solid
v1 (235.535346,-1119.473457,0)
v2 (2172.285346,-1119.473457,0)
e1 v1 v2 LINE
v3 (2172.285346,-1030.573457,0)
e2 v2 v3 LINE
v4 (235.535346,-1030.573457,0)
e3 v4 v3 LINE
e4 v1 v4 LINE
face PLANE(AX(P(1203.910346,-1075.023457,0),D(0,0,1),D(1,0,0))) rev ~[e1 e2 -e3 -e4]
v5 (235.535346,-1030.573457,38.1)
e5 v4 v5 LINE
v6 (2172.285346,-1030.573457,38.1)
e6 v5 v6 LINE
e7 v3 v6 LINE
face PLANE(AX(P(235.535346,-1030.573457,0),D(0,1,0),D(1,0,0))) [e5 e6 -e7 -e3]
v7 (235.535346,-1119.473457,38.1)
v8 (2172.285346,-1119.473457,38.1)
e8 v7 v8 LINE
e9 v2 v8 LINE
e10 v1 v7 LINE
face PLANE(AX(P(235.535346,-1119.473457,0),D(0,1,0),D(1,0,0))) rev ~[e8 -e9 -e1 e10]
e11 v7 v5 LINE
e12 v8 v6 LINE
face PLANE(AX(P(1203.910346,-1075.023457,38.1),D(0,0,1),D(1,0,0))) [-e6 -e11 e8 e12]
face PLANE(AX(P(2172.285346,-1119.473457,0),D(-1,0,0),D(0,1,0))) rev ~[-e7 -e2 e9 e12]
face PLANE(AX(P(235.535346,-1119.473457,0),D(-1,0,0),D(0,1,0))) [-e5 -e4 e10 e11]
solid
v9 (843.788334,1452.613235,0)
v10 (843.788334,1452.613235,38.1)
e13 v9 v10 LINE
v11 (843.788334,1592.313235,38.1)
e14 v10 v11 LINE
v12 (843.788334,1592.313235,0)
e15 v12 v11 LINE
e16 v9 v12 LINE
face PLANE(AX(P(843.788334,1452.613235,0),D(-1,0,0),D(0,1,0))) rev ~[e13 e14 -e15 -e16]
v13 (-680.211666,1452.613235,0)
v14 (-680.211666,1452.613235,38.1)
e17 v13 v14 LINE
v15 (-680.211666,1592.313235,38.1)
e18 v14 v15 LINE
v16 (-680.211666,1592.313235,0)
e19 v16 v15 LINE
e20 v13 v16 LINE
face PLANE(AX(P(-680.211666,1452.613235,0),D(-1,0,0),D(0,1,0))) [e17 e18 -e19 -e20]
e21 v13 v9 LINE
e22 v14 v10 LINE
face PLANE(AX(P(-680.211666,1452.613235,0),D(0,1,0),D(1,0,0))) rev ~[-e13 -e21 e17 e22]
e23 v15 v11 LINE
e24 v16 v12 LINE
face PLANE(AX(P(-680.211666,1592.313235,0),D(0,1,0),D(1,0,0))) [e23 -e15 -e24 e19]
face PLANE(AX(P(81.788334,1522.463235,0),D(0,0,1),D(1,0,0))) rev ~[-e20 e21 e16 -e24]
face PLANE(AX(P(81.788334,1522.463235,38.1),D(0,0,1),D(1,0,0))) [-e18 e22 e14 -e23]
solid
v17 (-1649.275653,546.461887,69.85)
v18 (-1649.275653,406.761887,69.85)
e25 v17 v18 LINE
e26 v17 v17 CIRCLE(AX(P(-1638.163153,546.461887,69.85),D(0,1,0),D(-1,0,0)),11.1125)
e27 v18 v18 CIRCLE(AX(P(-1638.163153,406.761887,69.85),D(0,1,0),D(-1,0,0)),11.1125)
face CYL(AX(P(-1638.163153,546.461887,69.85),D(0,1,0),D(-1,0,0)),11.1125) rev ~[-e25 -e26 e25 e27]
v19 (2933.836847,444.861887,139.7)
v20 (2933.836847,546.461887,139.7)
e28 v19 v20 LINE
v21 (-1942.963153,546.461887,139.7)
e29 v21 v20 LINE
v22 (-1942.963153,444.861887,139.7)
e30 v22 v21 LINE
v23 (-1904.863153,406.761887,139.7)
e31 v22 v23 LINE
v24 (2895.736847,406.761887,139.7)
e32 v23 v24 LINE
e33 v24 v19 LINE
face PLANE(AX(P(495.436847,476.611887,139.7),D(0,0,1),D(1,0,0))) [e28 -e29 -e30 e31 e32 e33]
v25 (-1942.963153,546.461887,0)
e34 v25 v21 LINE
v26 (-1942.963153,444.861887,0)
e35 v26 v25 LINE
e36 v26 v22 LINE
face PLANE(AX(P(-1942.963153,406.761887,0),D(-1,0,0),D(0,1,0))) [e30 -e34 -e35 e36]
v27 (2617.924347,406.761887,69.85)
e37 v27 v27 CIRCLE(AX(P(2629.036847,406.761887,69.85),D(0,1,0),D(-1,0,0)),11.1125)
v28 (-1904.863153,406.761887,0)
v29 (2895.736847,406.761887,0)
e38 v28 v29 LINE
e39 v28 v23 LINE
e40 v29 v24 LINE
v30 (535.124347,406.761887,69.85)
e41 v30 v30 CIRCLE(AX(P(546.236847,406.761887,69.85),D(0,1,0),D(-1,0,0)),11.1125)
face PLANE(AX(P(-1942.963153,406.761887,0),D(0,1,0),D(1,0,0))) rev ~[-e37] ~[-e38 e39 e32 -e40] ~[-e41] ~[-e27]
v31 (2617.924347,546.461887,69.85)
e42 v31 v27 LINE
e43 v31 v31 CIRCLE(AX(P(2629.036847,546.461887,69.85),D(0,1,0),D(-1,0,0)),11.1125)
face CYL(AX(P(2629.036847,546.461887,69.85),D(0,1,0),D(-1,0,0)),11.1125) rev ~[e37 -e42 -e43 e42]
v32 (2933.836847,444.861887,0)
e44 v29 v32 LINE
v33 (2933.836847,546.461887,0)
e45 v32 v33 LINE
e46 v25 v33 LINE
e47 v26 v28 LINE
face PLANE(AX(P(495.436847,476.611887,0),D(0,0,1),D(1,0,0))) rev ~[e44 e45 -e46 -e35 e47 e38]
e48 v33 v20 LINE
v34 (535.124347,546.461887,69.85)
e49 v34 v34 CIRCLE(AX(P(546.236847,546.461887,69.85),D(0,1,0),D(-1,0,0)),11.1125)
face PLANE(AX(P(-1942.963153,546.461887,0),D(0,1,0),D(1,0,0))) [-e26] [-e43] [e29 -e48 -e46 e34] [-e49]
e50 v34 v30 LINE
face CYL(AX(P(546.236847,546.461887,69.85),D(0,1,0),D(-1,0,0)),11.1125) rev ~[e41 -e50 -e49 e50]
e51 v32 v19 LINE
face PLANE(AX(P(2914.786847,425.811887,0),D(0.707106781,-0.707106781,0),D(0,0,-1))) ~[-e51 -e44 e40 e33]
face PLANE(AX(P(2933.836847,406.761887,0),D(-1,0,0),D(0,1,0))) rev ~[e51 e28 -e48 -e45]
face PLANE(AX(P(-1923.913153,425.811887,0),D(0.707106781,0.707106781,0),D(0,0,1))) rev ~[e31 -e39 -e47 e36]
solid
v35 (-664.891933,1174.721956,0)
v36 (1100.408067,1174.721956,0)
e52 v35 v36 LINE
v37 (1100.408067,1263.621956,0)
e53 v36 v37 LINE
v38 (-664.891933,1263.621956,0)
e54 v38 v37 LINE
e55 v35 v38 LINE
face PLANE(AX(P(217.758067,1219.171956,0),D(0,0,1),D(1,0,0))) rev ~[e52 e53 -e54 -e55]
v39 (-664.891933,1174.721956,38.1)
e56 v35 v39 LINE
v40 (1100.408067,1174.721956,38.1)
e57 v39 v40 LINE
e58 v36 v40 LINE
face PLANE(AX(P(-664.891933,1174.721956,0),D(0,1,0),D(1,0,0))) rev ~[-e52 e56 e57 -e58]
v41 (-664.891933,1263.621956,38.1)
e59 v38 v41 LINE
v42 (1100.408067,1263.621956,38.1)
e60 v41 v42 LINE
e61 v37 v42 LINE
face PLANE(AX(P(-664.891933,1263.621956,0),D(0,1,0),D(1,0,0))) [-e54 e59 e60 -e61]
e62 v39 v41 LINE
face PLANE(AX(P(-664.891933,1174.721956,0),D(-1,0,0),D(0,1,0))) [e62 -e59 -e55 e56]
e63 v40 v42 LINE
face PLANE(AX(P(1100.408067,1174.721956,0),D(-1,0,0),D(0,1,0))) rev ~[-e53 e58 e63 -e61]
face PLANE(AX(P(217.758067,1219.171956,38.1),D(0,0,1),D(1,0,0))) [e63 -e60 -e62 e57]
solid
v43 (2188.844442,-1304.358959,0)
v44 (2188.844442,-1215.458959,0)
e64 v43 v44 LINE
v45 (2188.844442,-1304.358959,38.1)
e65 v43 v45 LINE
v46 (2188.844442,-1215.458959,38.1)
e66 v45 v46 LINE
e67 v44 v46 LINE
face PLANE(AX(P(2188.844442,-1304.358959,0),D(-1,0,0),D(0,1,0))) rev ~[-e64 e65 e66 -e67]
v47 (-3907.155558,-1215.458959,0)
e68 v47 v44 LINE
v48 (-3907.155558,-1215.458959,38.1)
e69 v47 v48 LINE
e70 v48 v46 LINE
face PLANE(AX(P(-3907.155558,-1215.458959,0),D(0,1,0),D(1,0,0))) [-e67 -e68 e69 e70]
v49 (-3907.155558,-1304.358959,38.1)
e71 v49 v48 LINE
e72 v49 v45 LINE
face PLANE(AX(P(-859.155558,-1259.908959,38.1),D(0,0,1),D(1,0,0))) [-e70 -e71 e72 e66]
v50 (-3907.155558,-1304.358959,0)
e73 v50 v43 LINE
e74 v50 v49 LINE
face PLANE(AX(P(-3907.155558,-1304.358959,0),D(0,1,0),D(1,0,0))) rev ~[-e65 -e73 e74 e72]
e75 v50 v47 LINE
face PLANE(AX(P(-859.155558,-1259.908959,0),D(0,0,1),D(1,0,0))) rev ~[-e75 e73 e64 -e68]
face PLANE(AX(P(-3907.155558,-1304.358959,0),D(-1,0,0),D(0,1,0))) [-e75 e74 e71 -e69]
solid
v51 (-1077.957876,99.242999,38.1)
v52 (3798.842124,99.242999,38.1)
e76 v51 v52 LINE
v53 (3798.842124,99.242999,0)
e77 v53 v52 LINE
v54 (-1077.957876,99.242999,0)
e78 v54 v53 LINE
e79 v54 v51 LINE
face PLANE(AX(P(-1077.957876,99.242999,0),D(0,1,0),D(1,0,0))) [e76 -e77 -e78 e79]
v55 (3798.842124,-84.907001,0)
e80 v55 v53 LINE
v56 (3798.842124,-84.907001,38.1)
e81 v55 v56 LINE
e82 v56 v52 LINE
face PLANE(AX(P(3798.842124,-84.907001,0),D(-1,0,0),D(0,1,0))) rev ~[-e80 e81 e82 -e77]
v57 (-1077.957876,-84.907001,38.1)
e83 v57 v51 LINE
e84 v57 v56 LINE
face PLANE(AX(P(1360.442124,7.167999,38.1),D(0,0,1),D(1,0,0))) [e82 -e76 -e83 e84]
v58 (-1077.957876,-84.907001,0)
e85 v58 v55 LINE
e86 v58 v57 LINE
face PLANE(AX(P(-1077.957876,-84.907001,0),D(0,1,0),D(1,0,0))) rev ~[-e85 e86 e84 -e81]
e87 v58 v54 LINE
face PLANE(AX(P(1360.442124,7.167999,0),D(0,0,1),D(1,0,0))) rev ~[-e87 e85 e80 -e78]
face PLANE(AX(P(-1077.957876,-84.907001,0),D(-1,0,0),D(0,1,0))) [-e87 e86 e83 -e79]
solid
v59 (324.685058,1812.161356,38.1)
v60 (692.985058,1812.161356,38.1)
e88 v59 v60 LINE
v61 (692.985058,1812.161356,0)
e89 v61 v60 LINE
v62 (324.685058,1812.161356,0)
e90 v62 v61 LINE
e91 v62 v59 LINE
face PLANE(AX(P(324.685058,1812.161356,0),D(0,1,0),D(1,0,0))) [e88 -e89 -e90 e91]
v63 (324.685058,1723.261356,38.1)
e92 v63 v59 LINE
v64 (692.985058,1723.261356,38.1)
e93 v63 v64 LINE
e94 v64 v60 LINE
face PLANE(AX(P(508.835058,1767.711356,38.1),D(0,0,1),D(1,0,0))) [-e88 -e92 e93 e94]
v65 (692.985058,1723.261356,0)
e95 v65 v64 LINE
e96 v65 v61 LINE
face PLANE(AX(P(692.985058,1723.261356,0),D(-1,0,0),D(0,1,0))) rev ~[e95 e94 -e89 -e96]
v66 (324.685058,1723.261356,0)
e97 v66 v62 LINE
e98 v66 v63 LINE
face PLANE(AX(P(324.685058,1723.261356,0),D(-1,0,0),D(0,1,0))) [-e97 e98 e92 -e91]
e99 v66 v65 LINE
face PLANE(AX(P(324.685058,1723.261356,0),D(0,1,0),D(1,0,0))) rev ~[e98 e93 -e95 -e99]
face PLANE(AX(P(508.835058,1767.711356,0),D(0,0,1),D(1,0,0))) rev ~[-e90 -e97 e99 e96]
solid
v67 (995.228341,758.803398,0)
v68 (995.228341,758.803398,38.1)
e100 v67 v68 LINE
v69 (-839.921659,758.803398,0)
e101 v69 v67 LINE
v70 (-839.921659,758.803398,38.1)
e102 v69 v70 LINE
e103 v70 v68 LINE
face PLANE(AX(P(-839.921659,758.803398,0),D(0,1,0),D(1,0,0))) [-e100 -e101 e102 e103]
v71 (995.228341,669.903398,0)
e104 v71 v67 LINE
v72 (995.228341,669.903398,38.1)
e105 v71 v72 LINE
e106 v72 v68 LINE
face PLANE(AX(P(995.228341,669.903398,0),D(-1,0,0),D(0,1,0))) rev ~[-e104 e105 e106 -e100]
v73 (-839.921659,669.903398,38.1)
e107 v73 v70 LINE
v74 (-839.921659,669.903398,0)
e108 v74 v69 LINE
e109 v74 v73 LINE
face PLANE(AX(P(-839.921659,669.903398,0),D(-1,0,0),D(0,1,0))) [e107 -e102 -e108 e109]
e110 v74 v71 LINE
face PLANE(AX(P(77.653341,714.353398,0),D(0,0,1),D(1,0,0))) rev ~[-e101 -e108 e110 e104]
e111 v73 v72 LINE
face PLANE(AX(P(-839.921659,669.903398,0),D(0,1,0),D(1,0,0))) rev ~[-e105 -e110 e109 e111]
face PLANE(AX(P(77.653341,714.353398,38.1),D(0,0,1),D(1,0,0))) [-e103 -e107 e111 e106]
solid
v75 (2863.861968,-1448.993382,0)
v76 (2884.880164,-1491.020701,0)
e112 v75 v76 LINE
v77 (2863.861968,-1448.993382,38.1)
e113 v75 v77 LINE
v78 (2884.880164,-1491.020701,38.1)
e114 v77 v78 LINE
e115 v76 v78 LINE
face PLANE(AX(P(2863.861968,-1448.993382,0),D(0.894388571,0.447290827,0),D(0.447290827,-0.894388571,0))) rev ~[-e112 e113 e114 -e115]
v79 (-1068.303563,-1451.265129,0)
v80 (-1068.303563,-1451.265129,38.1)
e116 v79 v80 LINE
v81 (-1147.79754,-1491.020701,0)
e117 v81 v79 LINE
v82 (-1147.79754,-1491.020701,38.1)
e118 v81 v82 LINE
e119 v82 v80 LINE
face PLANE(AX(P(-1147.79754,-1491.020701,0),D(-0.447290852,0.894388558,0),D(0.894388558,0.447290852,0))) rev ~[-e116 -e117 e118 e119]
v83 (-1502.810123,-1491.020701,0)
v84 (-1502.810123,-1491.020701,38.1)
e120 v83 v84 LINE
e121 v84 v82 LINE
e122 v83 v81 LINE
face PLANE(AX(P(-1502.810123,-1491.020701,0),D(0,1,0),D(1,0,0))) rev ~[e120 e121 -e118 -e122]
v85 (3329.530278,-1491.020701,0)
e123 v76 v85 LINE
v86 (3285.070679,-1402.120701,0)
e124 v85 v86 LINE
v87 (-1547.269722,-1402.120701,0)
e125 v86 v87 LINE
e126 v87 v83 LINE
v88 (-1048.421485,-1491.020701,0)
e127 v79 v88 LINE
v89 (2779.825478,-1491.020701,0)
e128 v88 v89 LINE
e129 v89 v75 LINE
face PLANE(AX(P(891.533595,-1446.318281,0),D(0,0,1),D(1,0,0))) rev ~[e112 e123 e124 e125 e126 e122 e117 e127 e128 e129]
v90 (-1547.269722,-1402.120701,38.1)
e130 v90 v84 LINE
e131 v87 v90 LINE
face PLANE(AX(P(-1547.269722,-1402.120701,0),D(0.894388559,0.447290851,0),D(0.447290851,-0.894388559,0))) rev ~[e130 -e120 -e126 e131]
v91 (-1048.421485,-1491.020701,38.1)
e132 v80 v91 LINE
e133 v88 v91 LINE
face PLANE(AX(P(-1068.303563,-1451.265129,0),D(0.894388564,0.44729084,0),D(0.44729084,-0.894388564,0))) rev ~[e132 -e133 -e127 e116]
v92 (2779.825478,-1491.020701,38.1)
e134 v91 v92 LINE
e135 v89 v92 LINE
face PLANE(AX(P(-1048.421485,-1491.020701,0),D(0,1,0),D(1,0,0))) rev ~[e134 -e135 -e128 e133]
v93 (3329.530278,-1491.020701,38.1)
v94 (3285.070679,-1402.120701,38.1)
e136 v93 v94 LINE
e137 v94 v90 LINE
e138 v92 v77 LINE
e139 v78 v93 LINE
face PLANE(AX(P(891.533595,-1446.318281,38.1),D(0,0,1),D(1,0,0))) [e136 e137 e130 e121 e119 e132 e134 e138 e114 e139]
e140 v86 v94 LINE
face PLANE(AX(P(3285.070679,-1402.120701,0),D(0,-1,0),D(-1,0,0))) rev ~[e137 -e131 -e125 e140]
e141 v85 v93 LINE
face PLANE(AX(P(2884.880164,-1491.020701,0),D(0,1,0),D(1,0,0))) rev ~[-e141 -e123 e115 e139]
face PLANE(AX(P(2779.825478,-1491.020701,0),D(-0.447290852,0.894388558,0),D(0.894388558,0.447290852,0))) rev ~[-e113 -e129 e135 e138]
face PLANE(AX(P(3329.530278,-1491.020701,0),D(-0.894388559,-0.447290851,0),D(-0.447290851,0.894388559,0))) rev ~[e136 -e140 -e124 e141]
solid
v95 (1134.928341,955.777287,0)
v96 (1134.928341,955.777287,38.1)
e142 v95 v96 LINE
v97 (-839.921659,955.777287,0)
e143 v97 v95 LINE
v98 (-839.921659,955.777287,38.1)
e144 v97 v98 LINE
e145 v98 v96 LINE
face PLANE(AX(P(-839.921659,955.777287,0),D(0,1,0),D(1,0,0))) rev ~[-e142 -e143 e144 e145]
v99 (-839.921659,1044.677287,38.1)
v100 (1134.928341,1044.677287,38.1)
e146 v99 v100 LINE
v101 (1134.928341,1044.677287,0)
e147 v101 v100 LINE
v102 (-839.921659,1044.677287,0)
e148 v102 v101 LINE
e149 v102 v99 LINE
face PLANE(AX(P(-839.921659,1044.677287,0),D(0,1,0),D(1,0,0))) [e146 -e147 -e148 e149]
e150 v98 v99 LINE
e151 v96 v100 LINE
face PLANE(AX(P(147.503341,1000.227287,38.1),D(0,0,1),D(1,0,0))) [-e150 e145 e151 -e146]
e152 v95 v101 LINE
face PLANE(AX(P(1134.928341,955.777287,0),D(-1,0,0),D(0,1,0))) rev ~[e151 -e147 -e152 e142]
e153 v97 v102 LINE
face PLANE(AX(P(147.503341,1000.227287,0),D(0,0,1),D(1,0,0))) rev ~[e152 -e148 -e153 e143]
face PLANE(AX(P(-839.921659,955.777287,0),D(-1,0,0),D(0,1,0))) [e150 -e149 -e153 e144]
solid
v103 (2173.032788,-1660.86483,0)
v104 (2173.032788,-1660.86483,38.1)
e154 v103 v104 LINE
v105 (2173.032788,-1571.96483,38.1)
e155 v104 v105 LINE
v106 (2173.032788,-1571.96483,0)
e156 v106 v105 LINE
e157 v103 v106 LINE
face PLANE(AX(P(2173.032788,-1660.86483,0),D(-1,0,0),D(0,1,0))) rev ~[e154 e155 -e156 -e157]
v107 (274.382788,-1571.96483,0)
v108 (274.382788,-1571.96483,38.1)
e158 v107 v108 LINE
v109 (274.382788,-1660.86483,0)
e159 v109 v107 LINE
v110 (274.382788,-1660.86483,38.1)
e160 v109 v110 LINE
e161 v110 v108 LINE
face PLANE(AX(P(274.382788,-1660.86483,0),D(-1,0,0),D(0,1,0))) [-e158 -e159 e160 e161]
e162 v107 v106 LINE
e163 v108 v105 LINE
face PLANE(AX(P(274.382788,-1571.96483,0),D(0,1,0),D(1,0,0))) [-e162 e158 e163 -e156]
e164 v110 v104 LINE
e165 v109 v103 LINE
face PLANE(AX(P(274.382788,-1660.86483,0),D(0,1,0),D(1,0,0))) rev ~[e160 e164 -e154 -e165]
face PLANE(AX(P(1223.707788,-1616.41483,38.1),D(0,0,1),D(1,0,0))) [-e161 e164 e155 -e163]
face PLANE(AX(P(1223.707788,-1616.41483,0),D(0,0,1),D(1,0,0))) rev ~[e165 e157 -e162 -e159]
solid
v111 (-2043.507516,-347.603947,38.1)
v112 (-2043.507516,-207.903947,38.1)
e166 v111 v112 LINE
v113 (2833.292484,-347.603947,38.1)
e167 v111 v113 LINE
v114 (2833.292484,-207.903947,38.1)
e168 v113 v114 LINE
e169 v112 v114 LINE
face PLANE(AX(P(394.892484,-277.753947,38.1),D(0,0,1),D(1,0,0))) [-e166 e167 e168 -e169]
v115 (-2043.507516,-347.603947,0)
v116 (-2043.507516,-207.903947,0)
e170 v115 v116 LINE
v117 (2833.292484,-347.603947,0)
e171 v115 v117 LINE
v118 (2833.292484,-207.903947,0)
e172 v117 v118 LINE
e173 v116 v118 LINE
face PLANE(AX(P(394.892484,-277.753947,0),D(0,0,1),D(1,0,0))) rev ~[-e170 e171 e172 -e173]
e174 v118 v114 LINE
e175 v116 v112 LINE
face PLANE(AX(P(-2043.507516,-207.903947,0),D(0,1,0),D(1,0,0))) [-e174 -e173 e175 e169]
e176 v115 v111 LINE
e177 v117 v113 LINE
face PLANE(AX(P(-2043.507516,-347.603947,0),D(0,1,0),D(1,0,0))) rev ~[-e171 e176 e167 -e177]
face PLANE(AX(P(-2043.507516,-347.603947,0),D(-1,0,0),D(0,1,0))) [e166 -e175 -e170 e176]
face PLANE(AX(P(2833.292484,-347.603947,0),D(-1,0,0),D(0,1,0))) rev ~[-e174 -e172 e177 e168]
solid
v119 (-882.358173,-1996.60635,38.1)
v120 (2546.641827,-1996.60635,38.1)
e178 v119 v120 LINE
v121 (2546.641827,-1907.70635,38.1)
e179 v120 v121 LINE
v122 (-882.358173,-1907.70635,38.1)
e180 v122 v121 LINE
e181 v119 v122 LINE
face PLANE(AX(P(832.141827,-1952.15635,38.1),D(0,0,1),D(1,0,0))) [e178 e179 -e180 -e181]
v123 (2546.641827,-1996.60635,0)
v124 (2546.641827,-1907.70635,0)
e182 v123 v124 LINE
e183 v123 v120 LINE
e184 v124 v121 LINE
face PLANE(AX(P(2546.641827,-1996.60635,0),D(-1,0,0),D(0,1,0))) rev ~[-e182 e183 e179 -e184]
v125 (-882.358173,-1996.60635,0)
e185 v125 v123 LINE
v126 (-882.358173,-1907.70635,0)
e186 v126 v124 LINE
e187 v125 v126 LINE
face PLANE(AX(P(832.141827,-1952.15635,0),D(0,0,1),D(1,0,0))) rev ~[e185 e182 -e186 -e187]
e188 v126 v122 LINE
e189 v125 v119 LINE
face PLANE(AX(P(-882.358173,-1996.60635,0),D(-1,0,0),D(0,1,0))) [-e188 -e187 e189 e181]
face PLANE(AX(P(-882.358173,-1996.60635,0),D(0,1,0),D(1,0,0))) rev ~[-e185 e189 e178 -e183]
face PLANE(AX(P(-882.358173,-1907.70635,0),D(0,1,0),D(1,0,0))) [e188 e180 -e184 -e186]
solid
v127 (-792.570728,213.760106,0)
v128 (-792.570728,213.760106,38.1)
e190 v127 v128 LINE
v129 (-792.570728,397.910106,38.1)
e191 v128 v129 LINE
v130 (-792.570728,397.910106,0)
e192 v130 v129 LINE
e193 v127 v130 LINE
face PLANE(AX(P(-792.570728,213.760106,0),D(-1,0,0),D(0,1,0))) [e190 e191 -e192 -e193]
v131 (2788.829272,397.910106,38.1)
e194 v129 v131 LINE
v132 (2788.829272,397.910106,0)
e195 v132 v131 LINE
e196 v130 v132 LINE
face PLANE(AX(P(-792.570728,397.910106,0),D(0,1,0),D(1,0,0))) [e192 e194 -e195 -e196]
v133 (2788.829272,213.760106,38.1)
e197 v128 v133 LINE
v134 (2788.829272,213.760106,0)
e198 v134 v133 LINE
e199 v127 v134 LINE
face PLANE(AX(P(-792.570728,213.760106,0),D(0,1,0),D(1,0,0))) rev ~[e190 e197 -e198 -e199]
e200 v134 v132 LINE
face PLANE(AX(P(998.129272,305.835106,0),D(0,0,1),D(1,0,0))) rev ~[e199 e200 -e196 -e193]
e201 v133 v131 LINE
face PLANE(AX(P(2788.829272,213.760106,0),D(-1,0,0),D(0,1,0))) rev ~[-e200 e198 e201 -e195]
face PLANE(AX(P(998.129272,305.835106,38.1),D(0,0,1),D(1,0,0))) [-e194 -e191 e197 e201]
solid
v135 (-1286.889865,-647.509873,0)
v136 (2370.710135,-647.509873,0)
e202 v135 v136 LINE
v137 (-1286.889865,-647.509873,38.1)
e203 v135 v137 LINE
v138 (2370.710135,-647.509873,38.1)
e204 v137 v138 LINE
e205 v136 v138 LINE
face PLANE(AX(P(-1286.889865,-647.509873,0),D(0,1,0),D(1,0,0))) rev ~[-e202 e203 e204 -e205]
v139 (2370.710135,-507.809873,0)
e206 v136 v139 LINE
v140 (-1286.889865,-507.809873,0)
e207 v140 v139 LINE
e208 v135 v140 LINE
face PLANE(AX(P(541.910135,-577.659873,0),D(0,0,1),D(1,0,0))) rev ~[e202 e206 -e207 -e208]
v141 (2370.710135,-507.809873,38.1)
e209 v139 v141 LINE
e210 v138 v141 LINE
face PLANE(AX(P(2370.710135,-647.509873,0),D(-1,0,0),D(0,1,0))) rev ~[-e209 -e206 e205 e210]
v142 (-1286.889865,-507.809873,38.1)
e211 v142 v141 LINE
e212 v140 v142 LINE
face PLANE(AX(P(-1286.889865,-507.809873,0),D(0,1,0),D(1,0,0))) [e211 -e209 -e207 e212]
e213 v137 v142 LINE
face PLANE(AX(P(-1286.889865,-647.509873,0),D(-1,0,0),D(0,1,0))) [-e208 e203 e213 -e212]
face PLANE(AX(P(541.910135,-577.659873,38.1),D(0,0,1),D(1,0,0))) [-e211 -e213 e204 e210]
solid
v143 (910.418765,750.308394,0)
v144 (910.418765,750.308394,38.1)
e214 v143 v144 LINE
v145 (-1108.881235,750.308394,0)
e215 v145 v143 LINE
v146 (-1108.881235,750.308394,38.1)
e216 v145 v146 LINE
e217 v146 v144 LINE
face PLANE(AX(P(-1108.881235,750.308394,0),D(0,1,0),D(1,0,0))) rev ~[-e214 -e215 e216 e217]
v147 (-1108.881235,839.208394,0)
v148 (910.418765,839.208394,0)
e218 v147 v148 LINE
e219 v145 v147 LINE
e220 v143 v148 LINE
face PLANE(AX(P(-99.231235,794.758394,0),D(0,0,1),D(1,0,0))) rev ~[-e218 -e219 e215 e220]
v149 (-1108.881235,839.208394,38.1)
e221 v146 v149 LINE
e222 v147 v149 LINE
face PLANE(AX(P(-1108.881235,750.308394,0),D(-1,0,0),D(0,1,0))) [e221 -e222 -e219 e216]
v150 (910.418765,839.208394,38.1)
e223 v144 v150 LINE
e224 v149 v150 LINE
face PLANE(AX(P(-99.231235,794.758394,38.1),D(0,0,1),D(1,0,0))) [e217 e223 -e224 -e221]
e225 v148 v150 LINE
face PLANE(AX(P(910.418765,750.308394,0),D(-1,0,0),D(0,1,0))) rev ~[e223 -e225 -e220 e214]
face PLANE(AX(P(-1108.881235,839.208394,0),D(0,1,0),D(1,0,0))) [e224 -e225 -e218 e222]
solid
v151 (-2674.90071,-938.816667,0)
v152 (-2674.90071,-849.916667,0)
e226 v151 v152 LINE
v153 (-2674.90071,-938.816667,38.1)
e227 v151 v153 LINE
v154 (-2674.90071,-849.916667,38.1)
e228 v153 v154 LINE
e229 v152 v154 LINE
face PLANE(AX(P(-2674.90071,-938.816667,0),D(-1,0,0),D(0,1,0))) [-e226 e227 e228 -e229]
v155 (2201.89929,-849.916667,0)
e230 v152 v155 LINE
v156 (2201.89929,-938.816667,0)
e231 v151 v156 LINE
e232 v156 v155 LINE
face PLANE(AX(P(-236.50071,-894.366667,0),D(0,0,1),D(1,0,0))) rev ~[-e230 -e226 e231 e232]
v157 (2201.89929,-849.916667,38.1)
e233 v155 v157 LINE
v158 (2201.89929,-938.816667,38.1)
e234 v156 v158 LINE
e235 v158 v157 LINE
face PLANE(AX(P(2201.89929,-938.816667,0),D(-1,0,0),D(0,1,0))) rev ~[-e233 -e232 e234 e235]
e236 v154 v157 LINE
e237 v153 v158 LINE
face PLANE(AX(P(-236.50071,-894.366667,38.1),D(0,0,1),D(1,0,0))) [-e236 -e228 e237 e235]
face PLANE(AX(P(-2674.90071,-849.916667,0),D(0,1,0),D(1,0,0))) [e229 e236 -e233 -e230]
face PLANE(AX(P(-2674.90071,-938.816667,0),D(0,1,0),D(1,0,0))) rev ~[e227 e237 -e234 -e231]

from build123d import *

# Parameters (mm, degrees)
F0_W      = 4876.8
F0_H      = 184.15
F1_DEPTH  = 38.1
F2_W      = 3581.4
F2_H      = 184.15
F3_DEPTH  = 38.1
F4_W      = 4876.8
F4_H      = 139.7
F5_DEPTH  = 139.7
F6_SIZE   = 38.1
F7_W      = 4876.8
F7_H      = 139.7
F8_DEPTH  = 38.1
F9_W      = 3657.6
F9_H      = 139.7
F10_DEPTH = 38.1
F11_W     = 1936.75
F11_H     = 88.9
F12_DEPTH = 38.1
F13_W     = 4876.8
F13_H     = 88.9
F14_DEPTH = 38.1
F15_W     = 6096
F15_H     = 88.9
F16_DEPTH = 38.1
F18_DEPTH = 38.1
F19_W     = 3429
F19_H     = 88.9
F20_DEPTH = 38.1
F21_W     = 1898.65
F21_H     = 88.9
F22_DEPTH = 38.1
F23_W     = 2019.3
F23_H     = 88.9
F24_DEPTH = 38.1
F25_W     = 1974.85
F25_H     = 88.9
F25_W_2   = 1765.3
F25_W_3   = 1524
F25_H_2   = 139.7
F25_W_4   = 1835.15
F25_W_5   = 368.3
F26_DEPTH = 38.1
F27_R     = 11.1125
F28_DEPTH = 2543.069237


with BuildPart() as f1:
    # F0 (on Top) → F1 (new body)
    with BuildSketch(Plane.XY):
        with Locations((1360.442124, 7.167999)):
            Rectangle(F0_W, F0_H)
    extrude(amount=F1_DEPTH)


with BuildPart() as f3:
    # F2 (on Top) → F3 (new body)
    with BuildSketch(Plane.XY):
        with Locations((998.129272, 305.835106)):
            Rectangle(F2_W, F2_H)
    extrude(amount=F3_DEPTH)


with BuildPart() as f5:
    # F4 (on Top) → F5 (new body)
    with BuildSketch(Plane.XY):
        with Locations((495.436847, 476.611887)):
            Rectangle(F4_W, F4_H)
    extrude(amount=F5_DEPTH)

    # F6
    f6_edges = [f5.edges().sort_by_distance(p)[0] for p in [
        (-1942.963153, 406.761887, 69.85),
        (2933.836847, 406.761887, 69.85),
    ]]
    chamfer(f6_edges, length=F6_SIZE)

    # F27 (on face) → F28 (cut, through all)
    with BuildSketch(Plane(origin=(0, 546.461887, 0), x_dir=(-1, 0, 0), z_dir=(0, 1, 0))):
        with Locations((-2629.036847, 69.85)):
            Circle(F27_R)
        with Locations((1638.163153, 69.85)):
            Circle(F27_R)
        with Locations((-546.236847, 69.85)):
            Circle(F27_R)
    extrude(amount=-F28_DEPTH, mode=Mode.SUBTRACT)


with BuildPart() as f8:
    # F7 (on Top) → F8 (new body)
    with BuildSketch(Plane.XY):
        with Locations((394.892484, -277.753947)):
            Rectangle(F7_W, F7_H)
    extrude(amount=F8_DEPTH)


with BuildPart() as f10:
    # F9 (on Top) → F10 (new body)
    with BuildSketch(Plane.XY):
        with Locations((541.910135, -577.659873)):
            Rectangle(F9_W, F9_H)
    extrude(amount=F10_DEPTH)


with BuildPart() as f12:
    # F11 (on Top) → F12 (new body)
    with BuildSketch(Plane.XY):
        with Locations((1203.910346, -1075.023457)):
            Rectangle(F11_W, F11_H)
    extrude(amount=F12_DEPTH)


with BuildPart() as f14:
    # F13 (on Top) → F14 (new body)
    with BuildSketch(Plane.XY):
        with Locations((-236.50071, -894.366667)):
            Rectangle(F13_W, F13_H)
    extrude(amount=F14_DEPTH)


with BuildPart() as f16:
    # F15 (on Top) → F16 (new body)
    with BuildSketch(Plane.XY):
        with Locations((-859.155558, -1259.908959)):
            Rectangle(F15_W, F15_H)
    extrude(amount=F16_DEPTH)


with BuildPart() as f18:
    # F17 (on Top) → F18 (new body)
    with BuildSketch(Plane.XY):
        Polygon((3285.070679, -1402.120701), (-1547.269722, -1402.120701), (-1502.810123, -1491.020701), (-1147.79754, -1491.020701), (-1068.303563, -1451.265129), (-1048.421485, -1491.020701), (2779.825478, -1491.020701), (2863.861968, -1448.993382), (2884.880164, -1491.020701), (3329.530278, -1491.020701), align=None)
    extrude(amount=F18_DEPTH)


with BuildPart() as f20:
    # F19 (on Top) → F20 (new body)
    with BuildSketch(Plane.XY):
        with Locations((832.141827, -1952.15635)):
            Rectangle(F19_W, F19_H)
    extrude(amount=F20_DEPTH)


with BuildPart() as f22:
    # F21 (on Top) → F22 (new body)
    with BuildSketch(Plane.XY):
        with Locations((1223.707788, -1616.41483)):
            Rectangle(F21_W, F21_H)
    extrude(amount=F22_DEPTH)


with BuildPart() as f24:
    # F23 (on Top) → F24 (new body)
    with BuildSketch(Plane.XY):
        with Locations((-99.231235, 794.758394)):
            Rectangle(F23_W, F23_H)
    extrude(amount=F24_DEPTH)


with BuildPart() as f26:
    # F25 (on Top) → F26 (new body)
    with BuildSketch(Plane.XY):
        with Locations((147.503341, 1000.227287)):
            Rectangle(F25_W, F25_H)
        with Locations((217.758067, 1219.171956)):
            Rectangle(F25_W_2, F25_H)
        with Locations((81.788334, 1522.463235)):
            Rectangle(F25_W_3, F25_H_2)
        with Locations((77.653341, 714.353398)):
            Rectangle(F25_W_4, F25_H)
        with Locations((508.835058, 1767.711356)):
            Rectangle(F25_W_5, F25_H)
    extrude(amount=F26_DEPTH)


solid = Compound([f1.part, f3.part, f5.part, f8.part, f10.part, f12.part, f14.part, f16.part, f18.part, f20.part, f22.part, f24.part, f26.part])
